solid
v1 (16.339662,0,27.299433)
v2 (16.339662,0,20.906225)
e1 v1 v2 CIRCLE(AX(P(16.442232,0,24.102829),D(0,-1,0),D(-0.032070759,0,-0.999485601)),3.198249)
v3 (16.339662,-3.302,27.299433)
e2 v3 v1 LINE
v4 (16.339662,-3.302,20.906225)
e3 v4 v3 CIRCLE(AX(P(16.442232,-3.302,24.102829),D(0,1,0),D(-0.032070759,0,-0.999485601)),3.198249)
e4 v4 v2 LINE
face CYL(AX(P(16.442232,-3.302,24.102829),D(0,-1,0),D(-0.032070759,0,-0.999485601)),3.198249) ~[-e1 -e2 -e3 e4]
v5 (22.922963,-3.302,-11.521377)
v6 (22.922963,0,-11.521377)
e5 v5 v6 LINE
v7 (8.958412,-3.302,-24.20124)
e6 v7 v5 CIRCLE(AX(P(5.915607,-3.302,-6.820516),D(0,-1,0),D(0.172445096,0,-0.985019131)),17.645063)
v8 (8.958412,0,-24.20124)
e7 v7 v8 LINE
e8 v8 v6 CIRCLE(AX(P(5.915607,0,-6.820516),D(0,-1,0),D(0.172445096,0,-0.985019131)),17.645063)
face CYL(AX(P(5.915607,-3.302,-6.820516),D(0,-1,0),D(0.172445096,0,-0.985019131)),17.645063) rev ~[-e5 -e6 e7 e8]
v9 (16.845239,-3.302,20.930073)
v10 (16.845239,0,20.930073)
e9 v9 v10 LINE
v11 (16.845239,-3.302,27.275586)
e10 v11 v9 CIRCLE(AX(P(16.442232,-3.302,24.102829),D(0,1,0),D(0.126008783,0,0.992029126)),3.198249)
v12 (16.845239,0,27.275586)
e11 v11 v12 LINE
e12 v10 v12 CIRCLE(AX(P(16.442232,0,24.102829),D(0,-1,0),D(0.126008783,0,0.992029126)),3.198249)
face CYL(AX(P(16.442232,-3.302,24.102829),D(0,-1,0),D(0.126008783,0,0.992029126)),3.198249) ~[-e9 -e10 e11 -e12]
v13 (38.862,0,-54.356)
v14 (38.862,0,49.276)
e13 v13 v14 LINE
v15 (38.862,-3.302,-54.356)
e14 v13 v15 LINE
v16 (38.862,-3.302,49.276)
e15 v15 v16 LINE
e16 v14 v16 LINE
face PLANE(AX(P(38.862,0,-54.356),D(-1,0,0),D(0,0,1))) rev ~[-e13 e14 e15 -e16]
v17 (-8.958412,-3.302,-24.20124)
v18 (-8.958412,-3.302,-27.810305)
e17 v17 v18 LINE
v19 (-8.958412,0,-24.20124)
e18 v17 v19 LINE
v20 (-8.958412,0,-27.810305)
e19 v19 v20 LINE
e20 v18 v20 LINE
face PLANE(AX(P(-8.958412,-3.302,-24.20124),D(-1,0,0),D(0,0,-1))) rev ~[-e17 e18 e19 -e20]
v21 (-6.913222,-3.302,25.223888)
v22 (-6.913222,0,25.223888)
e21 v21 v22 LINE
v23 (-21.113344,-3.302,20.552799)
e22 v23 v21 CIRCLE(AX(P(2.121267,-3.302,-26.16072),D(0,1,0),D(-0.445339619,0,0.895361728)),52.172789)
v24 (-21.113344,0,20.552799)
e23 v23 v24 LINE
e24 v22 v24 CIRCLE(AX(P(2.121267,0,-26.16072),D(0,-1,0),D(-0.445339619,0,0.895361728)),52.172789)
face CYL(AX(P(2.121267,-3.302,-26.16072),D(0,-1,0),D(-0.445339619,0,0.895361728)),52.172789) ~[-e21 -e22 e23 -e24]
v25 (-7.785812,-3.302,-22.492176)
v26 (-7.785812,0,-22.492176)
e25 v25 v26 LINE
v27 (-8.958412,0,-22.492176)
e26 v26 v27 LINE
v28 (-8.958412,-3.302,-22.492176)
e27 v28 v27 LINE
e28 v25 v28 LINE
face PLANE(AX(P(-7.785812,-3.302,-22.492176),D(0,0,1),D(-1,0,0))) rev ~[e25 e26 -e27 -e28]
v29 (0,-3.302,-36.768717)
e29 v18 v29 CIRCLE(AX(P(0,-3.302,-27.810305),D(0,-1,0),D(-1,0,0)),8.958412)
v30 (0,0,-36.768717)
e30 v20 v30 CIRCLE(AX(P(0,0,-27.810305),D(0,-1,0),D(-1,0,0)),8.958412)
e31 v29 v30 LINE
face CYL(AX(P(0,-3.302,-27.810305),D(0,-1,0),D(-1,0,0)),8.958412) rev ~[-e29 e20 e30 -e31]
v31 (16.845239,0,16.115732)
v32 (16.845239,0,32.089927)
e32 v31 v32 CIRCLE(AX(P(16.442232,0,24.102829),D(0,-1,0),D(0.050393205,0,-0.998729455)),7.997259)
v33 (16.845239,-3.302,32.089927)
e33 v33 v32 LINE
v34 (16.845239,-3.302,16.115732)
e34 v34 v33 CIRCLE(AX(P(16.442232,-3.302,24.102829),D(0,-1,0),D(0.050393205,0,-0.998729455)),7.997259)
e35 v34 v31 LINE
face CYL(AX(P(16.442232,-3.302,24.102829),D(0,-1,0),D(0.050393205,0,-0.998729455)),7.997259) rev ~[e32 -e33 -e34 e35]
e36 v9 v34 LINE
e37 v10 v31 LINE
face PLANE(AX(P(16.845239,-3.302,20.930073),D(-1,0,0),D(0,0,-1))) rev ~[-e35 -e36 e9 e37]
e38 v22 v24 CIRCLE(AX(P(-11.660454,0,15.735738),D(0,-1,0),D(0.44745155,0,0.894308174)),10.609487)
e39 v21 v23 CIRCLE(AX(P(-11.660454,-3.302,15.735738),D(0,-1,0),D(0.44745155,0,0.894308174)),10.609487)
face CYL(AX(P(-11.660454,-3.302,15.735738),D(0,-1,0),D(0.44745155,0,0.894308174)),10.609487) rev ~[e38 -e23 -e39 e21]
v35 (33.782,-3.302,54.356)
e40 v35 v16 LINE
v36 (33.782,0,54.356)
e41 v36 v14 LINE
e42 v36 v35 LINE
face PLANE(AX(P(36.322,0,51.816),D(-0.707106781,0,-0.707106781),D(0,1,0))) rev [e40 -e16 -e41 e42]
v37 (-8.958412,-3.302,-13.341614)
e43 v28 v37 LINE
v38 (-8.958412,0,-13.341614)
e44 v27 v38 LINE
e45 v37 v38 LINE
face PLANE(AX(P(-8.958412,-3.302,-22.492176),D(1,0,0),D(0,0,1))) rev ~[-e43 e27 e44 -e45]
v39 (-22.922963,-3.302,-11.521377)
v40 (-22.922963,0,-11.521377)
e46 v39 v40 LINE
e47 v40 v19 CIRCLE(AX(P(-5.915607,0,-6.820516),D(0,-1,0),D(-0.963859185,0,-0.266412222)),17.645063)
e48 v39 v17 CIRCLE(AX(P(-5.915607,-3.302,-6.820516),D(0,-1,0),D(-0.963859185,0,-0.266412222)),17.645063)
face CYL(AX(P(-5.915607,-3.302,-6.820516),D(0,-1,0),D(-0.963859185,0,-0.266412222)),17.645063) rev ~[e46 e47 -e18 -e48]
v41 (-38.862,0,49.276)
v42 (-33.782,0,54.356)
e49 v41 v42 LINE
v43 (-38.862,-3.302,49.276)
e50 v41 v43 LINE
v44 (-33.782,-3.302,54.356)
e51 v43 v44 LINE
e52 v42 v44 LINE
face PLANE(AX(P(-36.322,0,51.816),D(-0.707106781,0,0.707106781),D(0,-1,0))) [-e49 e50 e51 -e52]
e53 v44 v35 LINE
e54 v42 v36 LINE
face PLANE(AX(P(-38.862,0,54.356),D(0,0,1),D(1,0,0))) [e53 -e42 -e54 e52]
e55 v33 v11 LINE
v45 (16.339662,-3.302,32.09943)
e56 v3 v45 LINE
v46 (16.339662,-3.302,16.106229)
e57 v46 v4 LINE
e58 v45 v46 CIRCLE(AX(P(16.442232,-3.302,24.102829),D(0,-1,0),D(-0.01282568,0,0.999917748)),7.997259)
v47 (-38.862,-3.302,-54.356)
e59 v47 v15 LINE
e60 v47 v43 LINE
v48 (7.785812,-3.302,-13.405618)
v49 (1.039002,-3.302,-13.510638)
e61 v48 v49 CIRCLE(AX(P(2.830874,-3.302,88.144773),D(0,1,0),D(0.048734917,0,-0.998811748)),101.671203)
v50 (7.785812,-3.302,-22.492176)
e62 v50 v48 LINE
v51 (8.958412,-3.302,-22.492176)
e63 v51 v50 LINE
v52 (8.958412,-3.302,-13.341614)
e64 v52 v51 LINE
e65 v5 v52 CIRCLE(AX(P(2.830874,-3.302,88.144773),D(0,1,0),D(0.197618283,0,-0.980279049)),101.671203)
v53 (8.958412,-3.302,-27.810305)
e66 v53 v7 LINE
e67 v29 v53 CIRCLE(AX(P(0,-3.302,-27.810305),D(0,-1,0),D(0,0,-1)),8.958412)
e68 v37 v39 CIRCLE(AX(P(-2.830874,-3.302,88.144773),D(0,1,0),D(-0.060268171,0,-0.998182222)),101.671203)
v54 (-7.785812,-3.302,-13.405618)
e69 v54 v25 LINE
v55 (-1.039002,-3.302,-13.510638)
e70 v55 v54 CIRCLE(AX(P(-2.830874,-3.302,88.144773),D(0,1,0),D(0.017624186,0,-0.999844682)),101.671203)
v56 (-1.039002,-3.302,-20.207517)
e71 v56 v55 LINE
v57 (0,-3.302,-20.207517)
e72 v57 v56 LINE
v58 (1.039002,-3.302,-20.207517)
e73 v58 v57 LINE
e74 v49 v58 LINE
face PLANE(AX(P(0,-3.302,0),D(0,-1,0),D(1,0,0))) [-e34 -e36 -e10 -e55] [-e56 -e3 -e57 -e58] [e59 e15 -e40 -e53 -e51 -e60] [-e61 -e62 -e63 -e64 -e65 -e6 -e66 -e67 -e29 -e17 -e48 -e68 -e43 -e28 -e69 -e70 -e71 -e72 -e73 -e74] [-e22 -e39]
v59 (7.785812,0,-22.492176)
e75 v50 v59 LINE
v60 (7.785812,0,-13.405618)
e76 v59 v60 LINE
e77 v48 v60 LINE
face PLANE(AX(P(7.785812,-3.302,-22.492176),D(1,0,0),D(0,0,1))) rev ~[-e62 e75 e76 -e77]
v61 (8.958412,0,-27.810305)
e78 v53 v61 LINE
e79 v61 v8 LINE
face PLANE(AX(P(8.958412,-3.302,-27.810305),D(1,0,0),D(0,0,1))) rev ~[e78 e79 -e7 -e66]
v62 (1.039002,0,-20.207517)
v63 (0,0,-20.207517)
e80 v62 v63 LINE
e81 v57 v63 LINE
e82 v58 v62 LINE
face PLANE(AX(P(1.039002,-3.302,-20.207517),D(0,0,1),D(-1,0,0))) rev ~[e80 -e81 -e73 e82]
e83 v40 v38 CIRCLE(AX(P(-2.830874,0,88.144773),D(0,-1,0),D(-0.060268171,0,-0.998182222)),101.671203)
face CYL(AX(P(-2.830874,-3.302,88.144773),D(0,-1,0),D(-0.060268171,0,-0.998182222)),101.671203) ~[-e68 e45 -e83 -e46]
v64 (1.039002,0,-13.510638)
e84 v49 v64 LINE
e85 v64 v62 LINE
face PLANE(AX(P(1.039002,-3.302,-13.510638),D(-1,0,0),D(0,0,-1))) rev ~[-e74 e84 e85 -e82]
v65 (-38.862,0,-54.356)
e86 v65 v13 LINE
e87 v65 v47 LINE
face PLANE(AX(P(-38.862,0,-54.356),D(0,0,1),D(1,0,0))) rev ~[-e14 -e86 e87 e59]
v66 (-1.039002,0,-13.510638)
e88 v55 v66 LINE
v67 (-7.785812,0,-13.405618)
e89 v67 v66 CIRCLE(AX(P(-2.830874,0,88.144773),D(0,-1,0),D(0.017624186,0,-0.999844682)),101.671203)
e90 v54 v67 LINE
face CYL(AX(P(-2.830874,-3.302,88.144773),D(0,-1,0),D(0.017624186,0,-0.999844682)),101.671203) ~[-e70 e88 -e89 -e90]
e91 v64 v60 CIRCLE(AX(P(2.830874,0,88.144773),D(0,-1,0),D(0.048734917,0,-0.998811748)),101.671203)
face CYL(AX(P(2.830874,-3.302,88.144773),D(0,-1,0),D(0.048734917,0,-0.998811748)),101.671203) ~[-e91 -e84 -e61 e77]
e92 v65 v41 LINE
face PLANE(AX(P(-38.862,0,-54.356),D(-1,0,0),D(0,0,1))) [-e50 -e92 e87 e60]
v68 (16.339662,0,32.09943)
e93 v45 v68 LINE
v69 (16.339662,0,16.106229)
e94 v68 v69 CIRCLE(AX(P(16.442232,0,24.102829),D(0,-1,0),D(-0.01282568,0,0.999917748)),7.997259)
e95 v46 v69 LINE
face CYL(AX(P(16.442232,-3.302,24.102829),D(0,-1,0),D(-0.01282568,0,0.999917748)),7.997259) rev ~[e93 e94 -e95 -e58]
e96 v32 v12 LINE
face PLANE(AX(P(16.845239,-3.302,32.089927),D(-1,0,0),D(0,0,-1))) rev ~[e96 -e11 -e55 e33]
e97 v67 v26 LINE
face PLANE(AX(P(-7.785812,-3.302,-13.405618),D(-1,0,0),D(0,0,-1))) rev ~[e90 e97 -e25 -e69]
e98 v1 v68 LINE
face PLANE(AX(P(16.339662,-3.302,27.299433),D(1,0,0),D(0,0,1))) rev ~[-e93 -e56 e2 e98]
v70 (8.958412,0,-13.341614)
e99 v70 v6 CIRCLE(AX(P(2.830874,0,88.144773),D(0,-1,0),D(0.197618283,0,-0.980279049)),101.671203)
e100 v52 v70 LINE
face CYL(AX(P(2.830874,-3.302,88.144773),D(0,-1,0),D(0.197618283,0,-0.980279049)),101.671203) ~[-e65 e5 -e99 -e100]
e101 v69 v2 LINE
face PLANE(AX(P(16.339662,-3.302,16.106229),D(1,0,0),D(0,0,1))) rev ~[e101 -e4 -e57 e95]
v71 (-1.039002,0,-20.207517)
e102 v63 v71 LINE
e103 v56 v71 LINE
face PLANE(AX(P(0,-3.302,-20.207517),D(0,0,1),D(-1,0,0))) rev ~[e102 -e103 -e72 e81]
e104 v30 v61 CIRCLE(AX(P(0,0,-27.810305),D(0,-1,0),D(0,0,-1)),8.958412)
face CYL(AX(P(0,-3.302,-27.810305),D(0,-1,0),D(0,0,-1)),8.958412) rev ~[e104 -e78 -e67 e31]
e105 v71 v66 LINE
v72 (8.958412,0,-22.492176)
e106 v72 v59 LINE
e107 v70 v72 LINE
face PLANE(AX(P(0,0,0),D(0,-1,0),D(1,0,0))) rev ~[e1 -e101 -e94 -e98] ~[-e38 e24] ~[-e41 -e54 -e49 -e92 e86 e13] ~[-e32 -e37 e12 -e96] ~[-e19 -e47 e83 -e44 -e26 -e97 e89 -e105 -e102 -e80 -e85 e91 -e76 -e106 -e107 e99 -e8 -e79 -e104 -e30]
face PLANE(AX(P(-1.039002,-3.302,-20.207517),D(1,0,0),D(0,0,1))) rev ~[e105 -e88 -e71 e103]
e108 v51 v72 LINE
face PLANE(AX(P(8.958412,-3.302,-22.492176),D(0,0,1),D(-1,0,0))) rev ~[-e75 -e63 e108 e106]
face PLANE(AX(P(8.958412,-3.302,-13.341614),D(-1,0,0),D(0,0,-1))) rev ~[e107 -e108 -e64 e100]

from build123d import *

# Parameters (mm, degrees)
F0_W     = 77.724
F0_H     = 108.712
F1_DEPTH = 3.302
F3_R     = 13.3445871966
F4_DEPTH = 3.302
F5_SIZE  = 5.08
F7_DEPTH = 3.303


with BuildPart() as f1:
    # F0 (on Front) → F1 (new body)
    with BuildSketch(Plane.XZ):
        Rectangle(F0_W, F0_H)
    extrude(amount=F1_DEPTH)

    # F3 (on face) → F4 (join)
    with BuildSketch(Plane.XZ.offset(3.302)):
        with BuildLine():
            add(Edge.make_bspline(
                [(-33.1284857231, -24.3833554431), (-30.3980902484, -23.448268281), (-27.6625298974, -23.0135580616), (-24.9168122419, -22.8877504962)],
                knots=[0.0236239796, 0.0236239796, 0.0236239796, 0.0236239796, 0.1438563975, 0.1438563975, 0.1438563975, 0.1438563975], degree=3))
            ThreePointArc((-33.1284857231, -24.3833554431), (-29.1410849834, -38.4326879001), (-15.8749999992, -44.5395771521))
            ThreePointArc((-15.8749999992, -44.5395771521), (-7.7803065213, -45.3411097626), (9e-10, -47.7145771515))
            ThreePointArc((9e-10, -47.7145771515), (7.780306523, -45.3411097624), (15.8750000008, -44.5395771515))
            ThreePointArc((15.8750000008, -44.5395771515), (28.9710149024, -38.6284104056), (33.2008619827, -24.8968448621))
            add(Edge.make_bspline(
                [(22.7832318895, -28.264905571), (26.870414184, -28.3483991479), (30.7081117423, -27.7740633769), (33.2008619827, -24.8968448621)],
                knots=[0.8224951004, 0.8224951004, 0.8224951004, 0.8224951004, 0.9908039431, 0.9908039431, 0.9908039431, 0.9908039431], degree=3))
            add(Edge.make_bspline(
                [(15.9953683619, -27.7933645546), (16.7598950609, -27.862629463), (19.0104314318, -28.0581684328), (21.3052242348, -28.2347126075), (22.7832318895, -28.264905571)],
                knots=[0.7300371536, 0.7300371536, 0.7300371536, 0.7300371536, 0.7616312241, 0.8224951004, 0.8224951004, 0.8224951004, 0.8224951004], degree=3))
            add(Edge.make_bspline(
                [(12.0445173218, -27.4086319137), (13.3501324037, -27.5450763369), (14.6659309282, -27.6729196282), (15.9953683619, -27.7933645546)],
                knots=[0.6750981435, 0.6750981435, 0.6750981435, 0.6750981435, 0.7300371536, 0.7300371536, 0.7300371536, 0.7300371536], degree=3))
            add(Edge.make_bspline(
                [(6.5035843618, -26.7679947406), (8.3365045469, -27.0014140297), (10.1801283043, -27.2137923413), (12.0445173218, -27.4086319137)],
                knots=[0.5966464709, 0.5966464709, 0.5966464709, 0.5966464709, 0.6750981435, 0.6750981435, 0.6750981435, 0.6750981435], degree=3))
            add(Edge.make_bspline(
                [(-15.7821923495, -23.3437299796), (-10.5480047667, -23.9624284424), (-3.1004870846, -25.4363431139), (4.3262408996, -26.490713729), (6.5035843618, -26.7679947406)],
                knots=[0.2765511336, 0.2765511336, 0.2765511336, 0.2765511336, 0.5034529768, 0.5966464709, 0.5966464709, 0.5966464709, 0.5966464709], degree=3))
            add(Edge.make_bspline(
                [(-24.9168122419, -22.8877504962), (-22.5127229742, -22.777596192), (-19.4725911361, -22.9372512735), (-16.4147628171, -23.2689580365), (-15.7821923495, -23.3437299796)],
                knots=[0.1438563975, 0.1438563975, 0.1438563975, 0.1438563975, 0.2491292266, 0.2765511336, 0.2765511336, 0.2765511336, 0.2765511336], degree=3))
        make_face()
        with BuildLine():
            ThreePointArc((-24.3962783332, -9.4429305632), (-23.5493439512, -16.2082072875), (-24.9168122419, -22.8877504962))
            add(Edge.make_bspline(
                [(-24.9168122419, -22.8877504962), (-22.5127229742, -22.777596192), (-19.4725911361, -22.9372512735), (-16.4147628171, -23.2689580365), (-15.7821923495, -23.3437299796)],
                knots=[0.1438563975, 0.1438563975, 0.1438563975, 0.1438563975, 0.2491292266, 0.2765511336, 0.2765511336, 0.2765511336, 0.2765511336], degree=3))
            ThreePointArc((-15.7821923495, -23.3437299796), (-16.7909764629, -16.1431204561), (-15.7821923495, -8.9425109327))
            add(Edge.make_bspline(
                [(-20.8150930703, 3.0249084812), (-20.084698855, 3.2617064252), (-18.5750809579, 3.7511331524), (-20.1108934357, 5.7423249077), (-21.3989497629, 8.4805039988), (-19.5926222129, 8.6232034417), (-20.0960081308, 6.4882204736), (-17.9845367, 4.4717269755), (-19.4827279307, 7.4877563676), (-17.6531933794, 7.9935220173), (-17.6518746238, 3.7165445405), (-19.7201607312, 2.5442912986), (-19.0033211234, 0.5113026434), (-21.5358089244, 0.646088536), (-20.7796208818, -5.7027505195), (-14.9489180074, 0.0978196974), (-17.977030073, 1.5236381763), (-14.9168721562, 2.6666255778), (-16.1211586732, 6.3598723413), (-13.8328776174, 5.6005762962), (-15.1421128769, 3.3154322822), (-14.4747759607, 0.1624480587), (-13.8084140261, 5.1188240441), (-11.0343102947, 2.7331078221), (-14.5615723999, -0.162479085), (-17.3031216925, -3.3366762112), (-18.0975664008, -8.8898410691), (-13.4356882131, -5.5746333853), (-15.3648709473, -3.8082111356), (-12.0527139611, -3.6659211986), (-13.248535603, -1.079337143), (-9.5910344453, -1.7447413323), (-10.7422685487, 3.0079941618), (-8.9849464366, -1.96339633), (-8.8102943074, 5.4988116301), (-7.4861779197, -0.6957485248), (-9.6724060403, -0.966318494), (-11.0218385517, -3.5291741027), (-13.7004320012, -4.2797101397), (-12.8029593717, -6.9381020727), (-14.7089673153, -8.2196946287), (-15.7821923495, -8.9425109327)],
                knots=[0, 0, 0, 0, 0.0231511603, 0.0478500744, 0.0752755755, 0.0903366321, 0.1142638791, 0.1352244444, 0.1593040946, 0.1744947233, 0.2060790631, 0.2315955315, 0.2516703156, 0.2733460952, 0.3049833457, 0.3431527772, 0.3650886659, 0.3896180862, 0.4183185893, 0.4354180503, 0.4626318971, 0.4841465121, 0.512674348, 0.5346264378, 0.5675595767, 0.6056671213, 0.6368592747, 0.6681518224, 0.6879987795, 0.7121233264, 0.7334743783, 0.7591560932, 0.7848708559, 0.8073025156, 0.8374341523, 0.8673194844, 0.8904493251, 0.9187369989, 0.9444600919, 0.9686867066, 1, 1, 1, 1], degree=3))
            add(Edge.make_bspline(
                [(-25.8914344013, -2.4853385985), (-26.396572956, -2.0003344615), (-27.3138435109, -1.1196261405), (-29.1352849859, -2.0598979002), (-28.7106271057, 0.8204026064), (-32.0312644098, -1.1715068103), (-31.3002695814, 3.7485837155), (-29.4483178555, 3.8301118075), (-30.8071023081, 1.5653871303), (-28.9526334159, 1.3619840648), (-29.4792210737, 5.2085047756), (-26.921055424, 4.4342075194), (-28.8119762327, 2.2854028303), (-27.5906596289, -1.3990701213), (-27.7699356497, 3.0747016102), (-25.2099586785, 2.6066763518), (-26.5953437573, -0.395391095), (-23.7025988652, -2.0340069969), (-23.1772681034, -6.0499515041), (-20.5435134821, -4.1808959475), (-25.0748704565, 2.6489737746), (-20.1368344266, 0.7949418705), (-20.6048167244, 2.3336418411), (-20.8150930703, 3.0249084812)],
                knots=[0, 0, 0, 0, 0.0457250435, 0.0830311605, 0.1245988121, 0.1705511092, 0.2321726775, 0.2625557415, 0.30723362, 0.3358214151, 0.393012377, 0.4286583434, 0.4808472993, 0.5282384525, 0.5813000538, 0.6192860311, 0.6705302416, 0.7286736986, 0.7872738172, 0.8280557864, 0.9074882994, 0.958434574, 1, 1, 1, 1], degree=3))
            ThreePointArc((-25.8914344013, -2.4853385985), (-24.9290967698, -4.9824855111), (-24.3962783332, -7.6050683856))
            add(Edge.make_bspline(
                [(-24.3962783332, -9.4429305632), (-25.4357243907, -10.1342055857), (-27.412273175, -11.4486922391), (-27.4547789496, -7.4214675852), (-30.5466070306, -9.5733915774), (-30.4542370334, -5.4520792207), (-32.3177618611, -5.8417990903), (-32.7140680164, -4.2769830225), (-32.0543630337, -2.7007935171), (-32.1251676799, -4.5533058245), (-30.3843482976, -5.4648837492), (-32.0501040037, -1.6640768267), (-30.4436660674, -1.9005229869), (-30.1720801803, -6.5942041642), (-29.7456686663, -3.178537531), (-28.1334595609, -3.5814958653), (-29.8697325683, -5.6494579394), (-29.5018476184, -7.7306733995), (-27.2359049314, -6.3250302911), (-26.4788550338, -9.3239236743), (-25.0993332141, -8.1853413666), (-24.3962783332, -7.6050683856)],
                knots=[0, 0, 0, 0, 0.0670169121, 0.1274354192, 0.1840138636, 0.2505621343, 0.2960523516, 0.3441354147, 0.3840734056, 0.4287810373, 0.4665753725, 0.5348972739, 0.5667760176, 0.6369485958, 0.6883070256, 0.7231632661, 0.7842390879, 0.8324575559, 0.8851485442, 0.9414679355, 1, 1, 1, 1], degree=3))
        make_face()
        with BuildLine():
            add(Edge.make_bspline(
                [(-20.2924981713, -15.781018883), (-20.5370775999, -16.1379246214), (-20.134132622, -17.1534868603), (-20.8639151565, -18.5661521393), (-21.9358468203, -19.4575377926), (-22.3700864307, -21.8865095148), (-20.237349518, -21.5763362209), (-19.5672362136, -20.438180371), (-19.2965010699, -18.8033454883), (-19.7803037906, -17.8720601229), (-19.908738804, -16.4540465799), (-19.0188083322, -15.0649598827), (-20.0853771822, -15.4787748635), (-20.2924981713, -15.781018883)],
                knots=[0, 0, 0, 0, 0.0904118203, 0.1854248684, 0.2814922978, 0.3865094541, 0.4809925493, 0.5711470892, 0.6690619631, 0.748512495, 0.8439845899, 0.9234351565, 1, 1, 1, 1], degree=3))
        make_face(mode=Mode.SUBTRACT)
        with BuildLine():
            add(Edge.make_bspline(
                [(-22.3910957575, -11.5529615432), (-22.0568118654, -12.2037220004), (-21.1170784891, -12.8832887919), (-21.7129777335, -14.1967346716), (-20.5379115522, -14.568750962), (-20.4867607869, -13.5076873001), (-20.8432701563, -11.8831681267), (-21.6439811905, -11.2404808042), (-22.9718655512, -9.3501247732), (-22.6978835435, -10.9557285785), (-22.3910957575, -11.5529615432)],
                knots=[0, 0, 0, 0, 0.1505340204, 0.2658311351, 0.3614801071, 0.4617187858, 0.6051372816, 0.7298931385, 0.8618479683, 1, 1, 1, 1], degree=3))
        make_face(mode=Mode.SUBTRACT)
        with BuildLine():
            add(Edge.make_bspline(
                [(-18.3790698647, -10.1024601609), (-18.7969421772, -10.2564427963), (-19.1553590595, -11.577398565), (-19.219348267, -12.6506630096), (-19.2408550579, -13.9350019391), (-18.8743899715, -14.8858473731), (-18.2833235222, -14.0155234153), (-18.1315989973, -13.0706647968), (-18.7065283271, -12.3462231403), (-18.4694817034, -11.2210464666), (-17.1590443019, -10.374237249), (-18.0760721444, -9.9908079022), (-18.3790698647, -10.1024601609)],
                knots=[0, 0, 0, 0, 0.1240572212, 0.2333232805, 0.347818092, 0.428679644, 0.5131510602, 0.6107152668, 0.7012679009, 0.8047604962, 0.9100465523, 1, 1, 1, 1], degree=3))
        make_face(mode=Mode.SUBTRACT)
        with BuildLine():
            ThreePointArc((5.4403450859, -12.5461180708), (6.6092683485, -19.609411059), (6.5035843618, -26.7679947406))
            add(Edge.make_bspline(
                [(6.5035843618, -26.7679947406), (8.3365045469, -27.0014140297), (10.1801283043, -27.2137923413), (12.0445173218, -27.4086319137)],
                knots=[0.5966464709, 0.5966464709, 0.5966464709, 0.5966464709, 0.6750981435, 0.6750981435, 0.6750981435, 0.6750981435], degree=3))
            Line((12.0445173218, -27.4086319137), (12.0445173218, -21.4756764472))
            ThreePointArc((12.0445173218, -21.4756764472), (14.0199428419, -19.5002509271), (15.9953683619, -21.4756764472))
            Line((15.9953683619, -21.4756764472), (15.9953683619, -27.7933645546))
            add(Edge.make_bspline(
                [(15.9953683619, -27.7933645546), (16.7598950609, -27.862629463), (19.0104314318, -28.0581684328), (21.3052242348, -28.2347126075), (22.7832318895, -28.264905571)],
                knots=[0.7300371536, 0.7300371536, 0.7300371536, 0.7300371536, 0.7616312241, 0.8224951004, 0.8224951004, 0.8224951004, 0.8224951004], degree=3))
            ThreePointArc((22.7832318895, -28.264905571), (22.4736636829, -20.3696155623), (23.5801553445, -12.5461180708))
            Line((23.5801553445, -12.5461180708), (28.4554600831, -13.4531514135))
            ThreePointArc((28.4554600831, -13.4531514135), (31.673336573, -11.9989868814), (31.424967593, -8.4765393743))
            ThreePointArc((31.424967593, -8.4765393743), (29.2529740879, -8.2440657168), (29.0205004305, -10.4160592219))
            ThreePointArc((29.0205004305, -10.4160592219), (29.058069024, -11.9208265797), (27.614886003, -12.3485636115))
            ThreePointArc((27.614886003, -12.3485636115), (23.4712314741, -5.8636115848), (28.4554600831, 0))
            ThreePointArc((28.4554600831, 0), (23.3706331923, -0.6006945639), (18.2612345592, -0.9328753515))
            Line((18.2612345592, -0.9328753515), (21.109645709, 8.6648291047))
            Line((21.109645709, 8.6648291047), (22.7452469365, 8.179414619))
            ThreePointArc((22.7452469365, 8.179414619), (24.0675287583, 9.9087492795), (21.9295363303, 9.4988517773))
            ThreePointArc((21.9295363303, 9.4988517773), (17.0915933325, 15.0640837031), (15.5871994793, 22.2831070423))
            Line((15.5871994793, 22.2831070423), (14.8853833456, 29.6840668302))
            Line((14.8853833456, 29.6840668302), (17.9889984262, 30.165095753))
            Line((17.9889984262, 30.165095753), (17.720128815, 31.8998516907))
            Line((17.720128815, 31.8998516907), (14.8043116011, 31.4479295364))
            Line((14.8043116011, 31.4479295364), (14.2361351446, 35.1138234881))
            Line((14.2361351446, 35.1138234881), (12.1174789965, 34.7854532301))
            Line((12.1174789965, 34.7854532301), (12.6562453806, 31.3093140721))
            Line((12.6562453806, 31.3093140721), (10.0379107516, 30.7162171018))
            Line((10.0379107516, 30.7162171018), (10.2517836951, 29.4975203391))
            Line((10.2517836951, 29.4975203391), (12.7509497106, 29.9361068755))
            Line((12.7509497106, 29.9361068755), (14.0939988196, 22.2831070423))
            ThreePointArc((14.0939988196, 22.2831070423), (12.6245914015, 15.2177663733), (7.6988285058, 9.9437681912))
            ThreePointArc((7.6988285058, 9.9437681912), (5.5906171254, 10.4864212664), (6.8022884056, 8.6778637491))
            Line((6.8022884056, 8.6778637491), (8.4650181234, 9.060157463))
            Line((8.4650181234, 9.060157463), (10.762639533, -0.9330055424))
            ThreePointArc((10.762639533, -0.9330055424), (5.6515483018, -0.6008483836), (0.5650403473, 0))
            ThreePointArc((0.5650403473, 0), (5.5492689564, -5.8636115848), (1.4056144274, -12.3485636115))
            ThreePointArc((1.4056144274, -12.3485636115), (-0.0375685935, -11.9208265797), (0, -10.4160592219))
            ThreePointArc((0, -10.4160592219), (-0.2324736575, -8.2440657168), (-2.4044671625, -8.4765393743))
            ThreePointArc((-2.4044671625, -8.4765393743), (-2.6528361426, -11.9989868814), (0.5650403473, -13.4531514135))
            Line((0.5650403473, -13.4531514135), (5.4403450859, -12.5461180708))
        make_face()
        Polygon((9.1227404773, -7.4148867279), (8.4774624556, -4.9826856703), (9.749203307, -4.868891682), (10.3401336819, -7.1323132142), align=None, mode=Mode.SUBTRACT)
        Polygon((10.9397291529, -9.5362256838), (9.768018499, -9.8470877856), (9.2899553012, -8.0451578014), (10.461665955, -7.7342956997), align=None, mode=Mode.SUBTRACT)
        Polygon((12.2584053658, -7.3401992658), (12.7159978886, -9.0649705743), (11.5734964264, -9.3680832964), (11.1159039036, -7.6433119879), align=None, mode=Mode.SUBTRACT)
        Polygon((10.332212454, -4.8167246576), (11.5597705233, -4.7068840966), (12.1378842059, -6.8859273354), (10.9000811353, -7.0559568703), align=None, mode=Mode.SUBTRACT)
        Polygon((17.9045965268, -7.6433119879), (17.4470040041, -9.3680832964), (16.3045025419, -9.0649705743), (16.7620950646, -7.3401992658), align=None, mode=Mode.SUBTRACT)
        Polygon((18.5588344754, -7.7342956997), (19.7305451293, -8.0451578014), (19.2524819314, -9.8470877856), (18.0807712776, -9.5362256838), align=None, mode=Mode.SUBTRACT)
        Polygon((18.6803667486, -7.1323132142), (19.2712971234, -4.868891682), (20.5430379748, -4.9826856703), (19.8977599531, -7.4148867279), align=None, mode=Mode.SUBTRACT)
        Polygon((16.8826162245, -6.8859273354), (17.4607299071, -4.7068840966), (18.6882879764, -4.8167246576), (18.1204192951, -7.0559568703), align=None, mode=Mode.SUBTRACT)
        with BuildLine():
            ThreePointArc((14.2767767446, 4.6611620079), (12.1414040207, 5.7303494735), (11.1097303552, 7.8840968947))
            Line((11.1097303552, 7.8840968947), (14.2767767446, 7.8840968947))
            Line((14.2767767446, 7.8840968947), (14.2767767446, 4.6611620079))
        make_face(mode=Mode.SUBTRACT)
        with BuildLine():
            ThreePointArc((11.1459939594, 8.983289175), (12.2280091457, 10.9819830574), (14.2767767446, 11.9658963789))
            Line((14.2767767446, 11.9658963789), (14.2767767446, 8.983289175))
            Line((14.2767767446, 8.983289175), (11.1459939594, 8.983289175))
        make_face(mode=Mode.SUBTRACT)
        with BuildLine():
            ThreePointArc((18.430607267, 7.8840968947), (17.3673699452, 5.6986165643), (15.1747141111, 4.6502567644))
            Line((15.1747141111, 4.6502567644), (15.1747141111, 7.8840968947))
            Line((15.1747141111, 7.8840968947), (18.430607267, 7.8840968947))
        make_face(mode=Mode.SUBTRACT)
        with BuildLine():
            ThreePointArc((15.1747141111, 11.9768016224), (17.2797356479, 11.0126579566), (18.3943436628, 8.983289175))
            Line((18.3943436628, 8.983289175), (15.1747141111, 8.983289175))
            Line((15.1747141111, 8.983289175), (15.1747141111, 11.9768016224))
        make_face(mode=Mode.SUBTRACT)
        with BuildLine():
            ThreePointArc((1.5084841621, 28.7364097307), (5.1963193944, 39.8156504287), (15.8749999992, 44.5395771521))
            ThreePointArc((15.8749999992, 44.5395771521), (7.7803065213, 45.3411097626), (-9e-10, 47.7145771515))
            ThreePointArc((-9e-10, 47.7145771515), (-7.780306523, 45.3411097624), (-15.8750000008, 44.5395771515))
            ThreePointArc((-15.8750000008, 44.5395771515), (-30.2008361805, 37.0625327748), (-32.2586794783, 21.0343995142))
            ThreePointArc((-32.2586794783, 21.0343995142), (-31.4618060576, 11.8664205536), (-35.4362714152, 3.5663922047))
            ThreePointArc((-35.4362714152, 3.5663922047), (-26.8661908779, 8.4248419398), (-17.0921185192, 9.6570447531))
            ThreePointArc((-17.0921185192, 9.6570447531), (-3.3712650978, 14.8871009528), (1.5084841621, 28.7364097307))
        make_face()
        with Locations((-15.8750000008, 27.0770771515)):
            Circle(F3_R, mode=Mode.SUBTRACT)
    extrude(amount=-F4_DEPTH)

    # F5
    f5_edges = [f1.edges().sort_by_distance(p)[0] for p in [
        (-38.862, -1.651, 54.356),
        (38.862, -1.651, 54.356),
    ]]
    chamfer(f5_edges, length=F5_SIZE)

    # F6 (on face) → F7 (cut, through all)
    with BuildSketch(Plane.XZ.offset(3.302)):
        with BuildLine():
            ThreePointArc((-21.1133435369, 20.5527991056), (-14.1814466186, 23.3995616628), (-6.9132223725, 25.2238884568))
            ThreePointArc((-6.9132223725, 25.2238884568), (-14.9756572058, 25.8139634695), (-21.1133435369, 20.5527991056))
        make_face()
        with BuildLine():
            Line((16.3396615535, 27.2994334483), (16.3396615535, 32.0994301496))
            ThreePointArc((16.3396615535, 32.0994301496), (8.4449732872, 24.1028293967), (16.3396615535, 16.1062286438))
            Line((16.3396615535, 16.1062286438), (16.3396615535, 20.9062253451))
            ThreePointArc((16.3396615535, 20.9062253451), (13.2439826058, 24.1028293967), (16.3396615535, 27.2994334483))
        make_face()
        with BuildLine():
            ThreePointArc((16.8452393264, 16.1157317246), (24.4394903807, 24.1028293967), (16.8452393264, 32.0899270689))
            Line((16.8452393264, 32.0899270689), (16.8452393264, 27.2755857829))
            ThreePointArc((16.8452393264, 27.2755857829), (19.640481062, 24.1028293967), (16.8452393264, 20.9300730105))
            Line((16.8452393264, 20.9300730105), (16.8452393264, 16.1157317246))
        make_face()
        with BuildLine():
            ThreePointArc((7.7858120203, -13.4056184413), (4.4132785994, -13.5141144888), (1.0390022352, -13.5106380834))
            Line((1.0390022352, -13.5106380834), (1.0390022352, -20.207516849))
            Line((1.0390022352, -20.207516849), (0, -20.207516849))
            Line((8e-10, -20.207516849), (-1.0390022345, -20.2075168491))
            Line((-1.0390022345, -20.2075168491), (-1.0390022347, -13.5106380835))
            ThreePointArc((-1.0390022347, -13.5106380835), (-4.4132785989, -13.514114489), (-7.7858120198, -13.4056184416))
            Line((-7.7858120198, -13.4056184416), (-7.7858120195, -22.4921759221))
            Line((-7.7858120195, -22.4921759221), (-8.9584118489, -22.4921759221))
            Line((-8.9584118489, -22.4921759221), (-8.9584118492, -13.3416137406))
            ThreePointArc((-8.9584118492, -13.3416137406), (-15.9722408444, -12.673568077), (-22.9229629035, -11.5213766703))
            ThreePointArc((-22.9229629035, -11.5213766703), (-17.7771825477, -19.8838721478), (-8.9584118488, -24.2012404948))
            Line((-8.9584118488, -24.2012404948), (-8.9584118487, -27.8103052275))
            ThreePointArc((-8.9584118487, -27.8103052275), (-6.3345537663, -34.144858995), (1.4e-09, -36.7687170769))
            ThreePointArc((0, -36.7687170769), (6.3345537676, -34.1448589948), (8.9584118497, -27.8103052271))
            Line((8.9584118497, -27.8103052271), (8.9584118497, -24.2012404944))
            ThreePointArc((8.9584118497, -24.2012404944), (17.7771825485, -19.8838721472), (22.922962904, -11.5213766694))
            ThreePointArc((22.922962904, -11.5213766694), (15.9722408449, -12.6735680764), (8.9584118497, -13.3416137402))
            Line((8.9584118497, -13.3416137402), (8.9584118497, -22.4921759218))
            Line((8.9584118497, -22.4921759218), (7.7858120203, -22.4921759218))
            Line((7.7858120203, -22.4921759218), (7.7858120203, -13.4056184413))
        make_face()
    extrude(amount=-F7_DEPTH, mode=Mode.SUBTRACT)


solid = f1.part
